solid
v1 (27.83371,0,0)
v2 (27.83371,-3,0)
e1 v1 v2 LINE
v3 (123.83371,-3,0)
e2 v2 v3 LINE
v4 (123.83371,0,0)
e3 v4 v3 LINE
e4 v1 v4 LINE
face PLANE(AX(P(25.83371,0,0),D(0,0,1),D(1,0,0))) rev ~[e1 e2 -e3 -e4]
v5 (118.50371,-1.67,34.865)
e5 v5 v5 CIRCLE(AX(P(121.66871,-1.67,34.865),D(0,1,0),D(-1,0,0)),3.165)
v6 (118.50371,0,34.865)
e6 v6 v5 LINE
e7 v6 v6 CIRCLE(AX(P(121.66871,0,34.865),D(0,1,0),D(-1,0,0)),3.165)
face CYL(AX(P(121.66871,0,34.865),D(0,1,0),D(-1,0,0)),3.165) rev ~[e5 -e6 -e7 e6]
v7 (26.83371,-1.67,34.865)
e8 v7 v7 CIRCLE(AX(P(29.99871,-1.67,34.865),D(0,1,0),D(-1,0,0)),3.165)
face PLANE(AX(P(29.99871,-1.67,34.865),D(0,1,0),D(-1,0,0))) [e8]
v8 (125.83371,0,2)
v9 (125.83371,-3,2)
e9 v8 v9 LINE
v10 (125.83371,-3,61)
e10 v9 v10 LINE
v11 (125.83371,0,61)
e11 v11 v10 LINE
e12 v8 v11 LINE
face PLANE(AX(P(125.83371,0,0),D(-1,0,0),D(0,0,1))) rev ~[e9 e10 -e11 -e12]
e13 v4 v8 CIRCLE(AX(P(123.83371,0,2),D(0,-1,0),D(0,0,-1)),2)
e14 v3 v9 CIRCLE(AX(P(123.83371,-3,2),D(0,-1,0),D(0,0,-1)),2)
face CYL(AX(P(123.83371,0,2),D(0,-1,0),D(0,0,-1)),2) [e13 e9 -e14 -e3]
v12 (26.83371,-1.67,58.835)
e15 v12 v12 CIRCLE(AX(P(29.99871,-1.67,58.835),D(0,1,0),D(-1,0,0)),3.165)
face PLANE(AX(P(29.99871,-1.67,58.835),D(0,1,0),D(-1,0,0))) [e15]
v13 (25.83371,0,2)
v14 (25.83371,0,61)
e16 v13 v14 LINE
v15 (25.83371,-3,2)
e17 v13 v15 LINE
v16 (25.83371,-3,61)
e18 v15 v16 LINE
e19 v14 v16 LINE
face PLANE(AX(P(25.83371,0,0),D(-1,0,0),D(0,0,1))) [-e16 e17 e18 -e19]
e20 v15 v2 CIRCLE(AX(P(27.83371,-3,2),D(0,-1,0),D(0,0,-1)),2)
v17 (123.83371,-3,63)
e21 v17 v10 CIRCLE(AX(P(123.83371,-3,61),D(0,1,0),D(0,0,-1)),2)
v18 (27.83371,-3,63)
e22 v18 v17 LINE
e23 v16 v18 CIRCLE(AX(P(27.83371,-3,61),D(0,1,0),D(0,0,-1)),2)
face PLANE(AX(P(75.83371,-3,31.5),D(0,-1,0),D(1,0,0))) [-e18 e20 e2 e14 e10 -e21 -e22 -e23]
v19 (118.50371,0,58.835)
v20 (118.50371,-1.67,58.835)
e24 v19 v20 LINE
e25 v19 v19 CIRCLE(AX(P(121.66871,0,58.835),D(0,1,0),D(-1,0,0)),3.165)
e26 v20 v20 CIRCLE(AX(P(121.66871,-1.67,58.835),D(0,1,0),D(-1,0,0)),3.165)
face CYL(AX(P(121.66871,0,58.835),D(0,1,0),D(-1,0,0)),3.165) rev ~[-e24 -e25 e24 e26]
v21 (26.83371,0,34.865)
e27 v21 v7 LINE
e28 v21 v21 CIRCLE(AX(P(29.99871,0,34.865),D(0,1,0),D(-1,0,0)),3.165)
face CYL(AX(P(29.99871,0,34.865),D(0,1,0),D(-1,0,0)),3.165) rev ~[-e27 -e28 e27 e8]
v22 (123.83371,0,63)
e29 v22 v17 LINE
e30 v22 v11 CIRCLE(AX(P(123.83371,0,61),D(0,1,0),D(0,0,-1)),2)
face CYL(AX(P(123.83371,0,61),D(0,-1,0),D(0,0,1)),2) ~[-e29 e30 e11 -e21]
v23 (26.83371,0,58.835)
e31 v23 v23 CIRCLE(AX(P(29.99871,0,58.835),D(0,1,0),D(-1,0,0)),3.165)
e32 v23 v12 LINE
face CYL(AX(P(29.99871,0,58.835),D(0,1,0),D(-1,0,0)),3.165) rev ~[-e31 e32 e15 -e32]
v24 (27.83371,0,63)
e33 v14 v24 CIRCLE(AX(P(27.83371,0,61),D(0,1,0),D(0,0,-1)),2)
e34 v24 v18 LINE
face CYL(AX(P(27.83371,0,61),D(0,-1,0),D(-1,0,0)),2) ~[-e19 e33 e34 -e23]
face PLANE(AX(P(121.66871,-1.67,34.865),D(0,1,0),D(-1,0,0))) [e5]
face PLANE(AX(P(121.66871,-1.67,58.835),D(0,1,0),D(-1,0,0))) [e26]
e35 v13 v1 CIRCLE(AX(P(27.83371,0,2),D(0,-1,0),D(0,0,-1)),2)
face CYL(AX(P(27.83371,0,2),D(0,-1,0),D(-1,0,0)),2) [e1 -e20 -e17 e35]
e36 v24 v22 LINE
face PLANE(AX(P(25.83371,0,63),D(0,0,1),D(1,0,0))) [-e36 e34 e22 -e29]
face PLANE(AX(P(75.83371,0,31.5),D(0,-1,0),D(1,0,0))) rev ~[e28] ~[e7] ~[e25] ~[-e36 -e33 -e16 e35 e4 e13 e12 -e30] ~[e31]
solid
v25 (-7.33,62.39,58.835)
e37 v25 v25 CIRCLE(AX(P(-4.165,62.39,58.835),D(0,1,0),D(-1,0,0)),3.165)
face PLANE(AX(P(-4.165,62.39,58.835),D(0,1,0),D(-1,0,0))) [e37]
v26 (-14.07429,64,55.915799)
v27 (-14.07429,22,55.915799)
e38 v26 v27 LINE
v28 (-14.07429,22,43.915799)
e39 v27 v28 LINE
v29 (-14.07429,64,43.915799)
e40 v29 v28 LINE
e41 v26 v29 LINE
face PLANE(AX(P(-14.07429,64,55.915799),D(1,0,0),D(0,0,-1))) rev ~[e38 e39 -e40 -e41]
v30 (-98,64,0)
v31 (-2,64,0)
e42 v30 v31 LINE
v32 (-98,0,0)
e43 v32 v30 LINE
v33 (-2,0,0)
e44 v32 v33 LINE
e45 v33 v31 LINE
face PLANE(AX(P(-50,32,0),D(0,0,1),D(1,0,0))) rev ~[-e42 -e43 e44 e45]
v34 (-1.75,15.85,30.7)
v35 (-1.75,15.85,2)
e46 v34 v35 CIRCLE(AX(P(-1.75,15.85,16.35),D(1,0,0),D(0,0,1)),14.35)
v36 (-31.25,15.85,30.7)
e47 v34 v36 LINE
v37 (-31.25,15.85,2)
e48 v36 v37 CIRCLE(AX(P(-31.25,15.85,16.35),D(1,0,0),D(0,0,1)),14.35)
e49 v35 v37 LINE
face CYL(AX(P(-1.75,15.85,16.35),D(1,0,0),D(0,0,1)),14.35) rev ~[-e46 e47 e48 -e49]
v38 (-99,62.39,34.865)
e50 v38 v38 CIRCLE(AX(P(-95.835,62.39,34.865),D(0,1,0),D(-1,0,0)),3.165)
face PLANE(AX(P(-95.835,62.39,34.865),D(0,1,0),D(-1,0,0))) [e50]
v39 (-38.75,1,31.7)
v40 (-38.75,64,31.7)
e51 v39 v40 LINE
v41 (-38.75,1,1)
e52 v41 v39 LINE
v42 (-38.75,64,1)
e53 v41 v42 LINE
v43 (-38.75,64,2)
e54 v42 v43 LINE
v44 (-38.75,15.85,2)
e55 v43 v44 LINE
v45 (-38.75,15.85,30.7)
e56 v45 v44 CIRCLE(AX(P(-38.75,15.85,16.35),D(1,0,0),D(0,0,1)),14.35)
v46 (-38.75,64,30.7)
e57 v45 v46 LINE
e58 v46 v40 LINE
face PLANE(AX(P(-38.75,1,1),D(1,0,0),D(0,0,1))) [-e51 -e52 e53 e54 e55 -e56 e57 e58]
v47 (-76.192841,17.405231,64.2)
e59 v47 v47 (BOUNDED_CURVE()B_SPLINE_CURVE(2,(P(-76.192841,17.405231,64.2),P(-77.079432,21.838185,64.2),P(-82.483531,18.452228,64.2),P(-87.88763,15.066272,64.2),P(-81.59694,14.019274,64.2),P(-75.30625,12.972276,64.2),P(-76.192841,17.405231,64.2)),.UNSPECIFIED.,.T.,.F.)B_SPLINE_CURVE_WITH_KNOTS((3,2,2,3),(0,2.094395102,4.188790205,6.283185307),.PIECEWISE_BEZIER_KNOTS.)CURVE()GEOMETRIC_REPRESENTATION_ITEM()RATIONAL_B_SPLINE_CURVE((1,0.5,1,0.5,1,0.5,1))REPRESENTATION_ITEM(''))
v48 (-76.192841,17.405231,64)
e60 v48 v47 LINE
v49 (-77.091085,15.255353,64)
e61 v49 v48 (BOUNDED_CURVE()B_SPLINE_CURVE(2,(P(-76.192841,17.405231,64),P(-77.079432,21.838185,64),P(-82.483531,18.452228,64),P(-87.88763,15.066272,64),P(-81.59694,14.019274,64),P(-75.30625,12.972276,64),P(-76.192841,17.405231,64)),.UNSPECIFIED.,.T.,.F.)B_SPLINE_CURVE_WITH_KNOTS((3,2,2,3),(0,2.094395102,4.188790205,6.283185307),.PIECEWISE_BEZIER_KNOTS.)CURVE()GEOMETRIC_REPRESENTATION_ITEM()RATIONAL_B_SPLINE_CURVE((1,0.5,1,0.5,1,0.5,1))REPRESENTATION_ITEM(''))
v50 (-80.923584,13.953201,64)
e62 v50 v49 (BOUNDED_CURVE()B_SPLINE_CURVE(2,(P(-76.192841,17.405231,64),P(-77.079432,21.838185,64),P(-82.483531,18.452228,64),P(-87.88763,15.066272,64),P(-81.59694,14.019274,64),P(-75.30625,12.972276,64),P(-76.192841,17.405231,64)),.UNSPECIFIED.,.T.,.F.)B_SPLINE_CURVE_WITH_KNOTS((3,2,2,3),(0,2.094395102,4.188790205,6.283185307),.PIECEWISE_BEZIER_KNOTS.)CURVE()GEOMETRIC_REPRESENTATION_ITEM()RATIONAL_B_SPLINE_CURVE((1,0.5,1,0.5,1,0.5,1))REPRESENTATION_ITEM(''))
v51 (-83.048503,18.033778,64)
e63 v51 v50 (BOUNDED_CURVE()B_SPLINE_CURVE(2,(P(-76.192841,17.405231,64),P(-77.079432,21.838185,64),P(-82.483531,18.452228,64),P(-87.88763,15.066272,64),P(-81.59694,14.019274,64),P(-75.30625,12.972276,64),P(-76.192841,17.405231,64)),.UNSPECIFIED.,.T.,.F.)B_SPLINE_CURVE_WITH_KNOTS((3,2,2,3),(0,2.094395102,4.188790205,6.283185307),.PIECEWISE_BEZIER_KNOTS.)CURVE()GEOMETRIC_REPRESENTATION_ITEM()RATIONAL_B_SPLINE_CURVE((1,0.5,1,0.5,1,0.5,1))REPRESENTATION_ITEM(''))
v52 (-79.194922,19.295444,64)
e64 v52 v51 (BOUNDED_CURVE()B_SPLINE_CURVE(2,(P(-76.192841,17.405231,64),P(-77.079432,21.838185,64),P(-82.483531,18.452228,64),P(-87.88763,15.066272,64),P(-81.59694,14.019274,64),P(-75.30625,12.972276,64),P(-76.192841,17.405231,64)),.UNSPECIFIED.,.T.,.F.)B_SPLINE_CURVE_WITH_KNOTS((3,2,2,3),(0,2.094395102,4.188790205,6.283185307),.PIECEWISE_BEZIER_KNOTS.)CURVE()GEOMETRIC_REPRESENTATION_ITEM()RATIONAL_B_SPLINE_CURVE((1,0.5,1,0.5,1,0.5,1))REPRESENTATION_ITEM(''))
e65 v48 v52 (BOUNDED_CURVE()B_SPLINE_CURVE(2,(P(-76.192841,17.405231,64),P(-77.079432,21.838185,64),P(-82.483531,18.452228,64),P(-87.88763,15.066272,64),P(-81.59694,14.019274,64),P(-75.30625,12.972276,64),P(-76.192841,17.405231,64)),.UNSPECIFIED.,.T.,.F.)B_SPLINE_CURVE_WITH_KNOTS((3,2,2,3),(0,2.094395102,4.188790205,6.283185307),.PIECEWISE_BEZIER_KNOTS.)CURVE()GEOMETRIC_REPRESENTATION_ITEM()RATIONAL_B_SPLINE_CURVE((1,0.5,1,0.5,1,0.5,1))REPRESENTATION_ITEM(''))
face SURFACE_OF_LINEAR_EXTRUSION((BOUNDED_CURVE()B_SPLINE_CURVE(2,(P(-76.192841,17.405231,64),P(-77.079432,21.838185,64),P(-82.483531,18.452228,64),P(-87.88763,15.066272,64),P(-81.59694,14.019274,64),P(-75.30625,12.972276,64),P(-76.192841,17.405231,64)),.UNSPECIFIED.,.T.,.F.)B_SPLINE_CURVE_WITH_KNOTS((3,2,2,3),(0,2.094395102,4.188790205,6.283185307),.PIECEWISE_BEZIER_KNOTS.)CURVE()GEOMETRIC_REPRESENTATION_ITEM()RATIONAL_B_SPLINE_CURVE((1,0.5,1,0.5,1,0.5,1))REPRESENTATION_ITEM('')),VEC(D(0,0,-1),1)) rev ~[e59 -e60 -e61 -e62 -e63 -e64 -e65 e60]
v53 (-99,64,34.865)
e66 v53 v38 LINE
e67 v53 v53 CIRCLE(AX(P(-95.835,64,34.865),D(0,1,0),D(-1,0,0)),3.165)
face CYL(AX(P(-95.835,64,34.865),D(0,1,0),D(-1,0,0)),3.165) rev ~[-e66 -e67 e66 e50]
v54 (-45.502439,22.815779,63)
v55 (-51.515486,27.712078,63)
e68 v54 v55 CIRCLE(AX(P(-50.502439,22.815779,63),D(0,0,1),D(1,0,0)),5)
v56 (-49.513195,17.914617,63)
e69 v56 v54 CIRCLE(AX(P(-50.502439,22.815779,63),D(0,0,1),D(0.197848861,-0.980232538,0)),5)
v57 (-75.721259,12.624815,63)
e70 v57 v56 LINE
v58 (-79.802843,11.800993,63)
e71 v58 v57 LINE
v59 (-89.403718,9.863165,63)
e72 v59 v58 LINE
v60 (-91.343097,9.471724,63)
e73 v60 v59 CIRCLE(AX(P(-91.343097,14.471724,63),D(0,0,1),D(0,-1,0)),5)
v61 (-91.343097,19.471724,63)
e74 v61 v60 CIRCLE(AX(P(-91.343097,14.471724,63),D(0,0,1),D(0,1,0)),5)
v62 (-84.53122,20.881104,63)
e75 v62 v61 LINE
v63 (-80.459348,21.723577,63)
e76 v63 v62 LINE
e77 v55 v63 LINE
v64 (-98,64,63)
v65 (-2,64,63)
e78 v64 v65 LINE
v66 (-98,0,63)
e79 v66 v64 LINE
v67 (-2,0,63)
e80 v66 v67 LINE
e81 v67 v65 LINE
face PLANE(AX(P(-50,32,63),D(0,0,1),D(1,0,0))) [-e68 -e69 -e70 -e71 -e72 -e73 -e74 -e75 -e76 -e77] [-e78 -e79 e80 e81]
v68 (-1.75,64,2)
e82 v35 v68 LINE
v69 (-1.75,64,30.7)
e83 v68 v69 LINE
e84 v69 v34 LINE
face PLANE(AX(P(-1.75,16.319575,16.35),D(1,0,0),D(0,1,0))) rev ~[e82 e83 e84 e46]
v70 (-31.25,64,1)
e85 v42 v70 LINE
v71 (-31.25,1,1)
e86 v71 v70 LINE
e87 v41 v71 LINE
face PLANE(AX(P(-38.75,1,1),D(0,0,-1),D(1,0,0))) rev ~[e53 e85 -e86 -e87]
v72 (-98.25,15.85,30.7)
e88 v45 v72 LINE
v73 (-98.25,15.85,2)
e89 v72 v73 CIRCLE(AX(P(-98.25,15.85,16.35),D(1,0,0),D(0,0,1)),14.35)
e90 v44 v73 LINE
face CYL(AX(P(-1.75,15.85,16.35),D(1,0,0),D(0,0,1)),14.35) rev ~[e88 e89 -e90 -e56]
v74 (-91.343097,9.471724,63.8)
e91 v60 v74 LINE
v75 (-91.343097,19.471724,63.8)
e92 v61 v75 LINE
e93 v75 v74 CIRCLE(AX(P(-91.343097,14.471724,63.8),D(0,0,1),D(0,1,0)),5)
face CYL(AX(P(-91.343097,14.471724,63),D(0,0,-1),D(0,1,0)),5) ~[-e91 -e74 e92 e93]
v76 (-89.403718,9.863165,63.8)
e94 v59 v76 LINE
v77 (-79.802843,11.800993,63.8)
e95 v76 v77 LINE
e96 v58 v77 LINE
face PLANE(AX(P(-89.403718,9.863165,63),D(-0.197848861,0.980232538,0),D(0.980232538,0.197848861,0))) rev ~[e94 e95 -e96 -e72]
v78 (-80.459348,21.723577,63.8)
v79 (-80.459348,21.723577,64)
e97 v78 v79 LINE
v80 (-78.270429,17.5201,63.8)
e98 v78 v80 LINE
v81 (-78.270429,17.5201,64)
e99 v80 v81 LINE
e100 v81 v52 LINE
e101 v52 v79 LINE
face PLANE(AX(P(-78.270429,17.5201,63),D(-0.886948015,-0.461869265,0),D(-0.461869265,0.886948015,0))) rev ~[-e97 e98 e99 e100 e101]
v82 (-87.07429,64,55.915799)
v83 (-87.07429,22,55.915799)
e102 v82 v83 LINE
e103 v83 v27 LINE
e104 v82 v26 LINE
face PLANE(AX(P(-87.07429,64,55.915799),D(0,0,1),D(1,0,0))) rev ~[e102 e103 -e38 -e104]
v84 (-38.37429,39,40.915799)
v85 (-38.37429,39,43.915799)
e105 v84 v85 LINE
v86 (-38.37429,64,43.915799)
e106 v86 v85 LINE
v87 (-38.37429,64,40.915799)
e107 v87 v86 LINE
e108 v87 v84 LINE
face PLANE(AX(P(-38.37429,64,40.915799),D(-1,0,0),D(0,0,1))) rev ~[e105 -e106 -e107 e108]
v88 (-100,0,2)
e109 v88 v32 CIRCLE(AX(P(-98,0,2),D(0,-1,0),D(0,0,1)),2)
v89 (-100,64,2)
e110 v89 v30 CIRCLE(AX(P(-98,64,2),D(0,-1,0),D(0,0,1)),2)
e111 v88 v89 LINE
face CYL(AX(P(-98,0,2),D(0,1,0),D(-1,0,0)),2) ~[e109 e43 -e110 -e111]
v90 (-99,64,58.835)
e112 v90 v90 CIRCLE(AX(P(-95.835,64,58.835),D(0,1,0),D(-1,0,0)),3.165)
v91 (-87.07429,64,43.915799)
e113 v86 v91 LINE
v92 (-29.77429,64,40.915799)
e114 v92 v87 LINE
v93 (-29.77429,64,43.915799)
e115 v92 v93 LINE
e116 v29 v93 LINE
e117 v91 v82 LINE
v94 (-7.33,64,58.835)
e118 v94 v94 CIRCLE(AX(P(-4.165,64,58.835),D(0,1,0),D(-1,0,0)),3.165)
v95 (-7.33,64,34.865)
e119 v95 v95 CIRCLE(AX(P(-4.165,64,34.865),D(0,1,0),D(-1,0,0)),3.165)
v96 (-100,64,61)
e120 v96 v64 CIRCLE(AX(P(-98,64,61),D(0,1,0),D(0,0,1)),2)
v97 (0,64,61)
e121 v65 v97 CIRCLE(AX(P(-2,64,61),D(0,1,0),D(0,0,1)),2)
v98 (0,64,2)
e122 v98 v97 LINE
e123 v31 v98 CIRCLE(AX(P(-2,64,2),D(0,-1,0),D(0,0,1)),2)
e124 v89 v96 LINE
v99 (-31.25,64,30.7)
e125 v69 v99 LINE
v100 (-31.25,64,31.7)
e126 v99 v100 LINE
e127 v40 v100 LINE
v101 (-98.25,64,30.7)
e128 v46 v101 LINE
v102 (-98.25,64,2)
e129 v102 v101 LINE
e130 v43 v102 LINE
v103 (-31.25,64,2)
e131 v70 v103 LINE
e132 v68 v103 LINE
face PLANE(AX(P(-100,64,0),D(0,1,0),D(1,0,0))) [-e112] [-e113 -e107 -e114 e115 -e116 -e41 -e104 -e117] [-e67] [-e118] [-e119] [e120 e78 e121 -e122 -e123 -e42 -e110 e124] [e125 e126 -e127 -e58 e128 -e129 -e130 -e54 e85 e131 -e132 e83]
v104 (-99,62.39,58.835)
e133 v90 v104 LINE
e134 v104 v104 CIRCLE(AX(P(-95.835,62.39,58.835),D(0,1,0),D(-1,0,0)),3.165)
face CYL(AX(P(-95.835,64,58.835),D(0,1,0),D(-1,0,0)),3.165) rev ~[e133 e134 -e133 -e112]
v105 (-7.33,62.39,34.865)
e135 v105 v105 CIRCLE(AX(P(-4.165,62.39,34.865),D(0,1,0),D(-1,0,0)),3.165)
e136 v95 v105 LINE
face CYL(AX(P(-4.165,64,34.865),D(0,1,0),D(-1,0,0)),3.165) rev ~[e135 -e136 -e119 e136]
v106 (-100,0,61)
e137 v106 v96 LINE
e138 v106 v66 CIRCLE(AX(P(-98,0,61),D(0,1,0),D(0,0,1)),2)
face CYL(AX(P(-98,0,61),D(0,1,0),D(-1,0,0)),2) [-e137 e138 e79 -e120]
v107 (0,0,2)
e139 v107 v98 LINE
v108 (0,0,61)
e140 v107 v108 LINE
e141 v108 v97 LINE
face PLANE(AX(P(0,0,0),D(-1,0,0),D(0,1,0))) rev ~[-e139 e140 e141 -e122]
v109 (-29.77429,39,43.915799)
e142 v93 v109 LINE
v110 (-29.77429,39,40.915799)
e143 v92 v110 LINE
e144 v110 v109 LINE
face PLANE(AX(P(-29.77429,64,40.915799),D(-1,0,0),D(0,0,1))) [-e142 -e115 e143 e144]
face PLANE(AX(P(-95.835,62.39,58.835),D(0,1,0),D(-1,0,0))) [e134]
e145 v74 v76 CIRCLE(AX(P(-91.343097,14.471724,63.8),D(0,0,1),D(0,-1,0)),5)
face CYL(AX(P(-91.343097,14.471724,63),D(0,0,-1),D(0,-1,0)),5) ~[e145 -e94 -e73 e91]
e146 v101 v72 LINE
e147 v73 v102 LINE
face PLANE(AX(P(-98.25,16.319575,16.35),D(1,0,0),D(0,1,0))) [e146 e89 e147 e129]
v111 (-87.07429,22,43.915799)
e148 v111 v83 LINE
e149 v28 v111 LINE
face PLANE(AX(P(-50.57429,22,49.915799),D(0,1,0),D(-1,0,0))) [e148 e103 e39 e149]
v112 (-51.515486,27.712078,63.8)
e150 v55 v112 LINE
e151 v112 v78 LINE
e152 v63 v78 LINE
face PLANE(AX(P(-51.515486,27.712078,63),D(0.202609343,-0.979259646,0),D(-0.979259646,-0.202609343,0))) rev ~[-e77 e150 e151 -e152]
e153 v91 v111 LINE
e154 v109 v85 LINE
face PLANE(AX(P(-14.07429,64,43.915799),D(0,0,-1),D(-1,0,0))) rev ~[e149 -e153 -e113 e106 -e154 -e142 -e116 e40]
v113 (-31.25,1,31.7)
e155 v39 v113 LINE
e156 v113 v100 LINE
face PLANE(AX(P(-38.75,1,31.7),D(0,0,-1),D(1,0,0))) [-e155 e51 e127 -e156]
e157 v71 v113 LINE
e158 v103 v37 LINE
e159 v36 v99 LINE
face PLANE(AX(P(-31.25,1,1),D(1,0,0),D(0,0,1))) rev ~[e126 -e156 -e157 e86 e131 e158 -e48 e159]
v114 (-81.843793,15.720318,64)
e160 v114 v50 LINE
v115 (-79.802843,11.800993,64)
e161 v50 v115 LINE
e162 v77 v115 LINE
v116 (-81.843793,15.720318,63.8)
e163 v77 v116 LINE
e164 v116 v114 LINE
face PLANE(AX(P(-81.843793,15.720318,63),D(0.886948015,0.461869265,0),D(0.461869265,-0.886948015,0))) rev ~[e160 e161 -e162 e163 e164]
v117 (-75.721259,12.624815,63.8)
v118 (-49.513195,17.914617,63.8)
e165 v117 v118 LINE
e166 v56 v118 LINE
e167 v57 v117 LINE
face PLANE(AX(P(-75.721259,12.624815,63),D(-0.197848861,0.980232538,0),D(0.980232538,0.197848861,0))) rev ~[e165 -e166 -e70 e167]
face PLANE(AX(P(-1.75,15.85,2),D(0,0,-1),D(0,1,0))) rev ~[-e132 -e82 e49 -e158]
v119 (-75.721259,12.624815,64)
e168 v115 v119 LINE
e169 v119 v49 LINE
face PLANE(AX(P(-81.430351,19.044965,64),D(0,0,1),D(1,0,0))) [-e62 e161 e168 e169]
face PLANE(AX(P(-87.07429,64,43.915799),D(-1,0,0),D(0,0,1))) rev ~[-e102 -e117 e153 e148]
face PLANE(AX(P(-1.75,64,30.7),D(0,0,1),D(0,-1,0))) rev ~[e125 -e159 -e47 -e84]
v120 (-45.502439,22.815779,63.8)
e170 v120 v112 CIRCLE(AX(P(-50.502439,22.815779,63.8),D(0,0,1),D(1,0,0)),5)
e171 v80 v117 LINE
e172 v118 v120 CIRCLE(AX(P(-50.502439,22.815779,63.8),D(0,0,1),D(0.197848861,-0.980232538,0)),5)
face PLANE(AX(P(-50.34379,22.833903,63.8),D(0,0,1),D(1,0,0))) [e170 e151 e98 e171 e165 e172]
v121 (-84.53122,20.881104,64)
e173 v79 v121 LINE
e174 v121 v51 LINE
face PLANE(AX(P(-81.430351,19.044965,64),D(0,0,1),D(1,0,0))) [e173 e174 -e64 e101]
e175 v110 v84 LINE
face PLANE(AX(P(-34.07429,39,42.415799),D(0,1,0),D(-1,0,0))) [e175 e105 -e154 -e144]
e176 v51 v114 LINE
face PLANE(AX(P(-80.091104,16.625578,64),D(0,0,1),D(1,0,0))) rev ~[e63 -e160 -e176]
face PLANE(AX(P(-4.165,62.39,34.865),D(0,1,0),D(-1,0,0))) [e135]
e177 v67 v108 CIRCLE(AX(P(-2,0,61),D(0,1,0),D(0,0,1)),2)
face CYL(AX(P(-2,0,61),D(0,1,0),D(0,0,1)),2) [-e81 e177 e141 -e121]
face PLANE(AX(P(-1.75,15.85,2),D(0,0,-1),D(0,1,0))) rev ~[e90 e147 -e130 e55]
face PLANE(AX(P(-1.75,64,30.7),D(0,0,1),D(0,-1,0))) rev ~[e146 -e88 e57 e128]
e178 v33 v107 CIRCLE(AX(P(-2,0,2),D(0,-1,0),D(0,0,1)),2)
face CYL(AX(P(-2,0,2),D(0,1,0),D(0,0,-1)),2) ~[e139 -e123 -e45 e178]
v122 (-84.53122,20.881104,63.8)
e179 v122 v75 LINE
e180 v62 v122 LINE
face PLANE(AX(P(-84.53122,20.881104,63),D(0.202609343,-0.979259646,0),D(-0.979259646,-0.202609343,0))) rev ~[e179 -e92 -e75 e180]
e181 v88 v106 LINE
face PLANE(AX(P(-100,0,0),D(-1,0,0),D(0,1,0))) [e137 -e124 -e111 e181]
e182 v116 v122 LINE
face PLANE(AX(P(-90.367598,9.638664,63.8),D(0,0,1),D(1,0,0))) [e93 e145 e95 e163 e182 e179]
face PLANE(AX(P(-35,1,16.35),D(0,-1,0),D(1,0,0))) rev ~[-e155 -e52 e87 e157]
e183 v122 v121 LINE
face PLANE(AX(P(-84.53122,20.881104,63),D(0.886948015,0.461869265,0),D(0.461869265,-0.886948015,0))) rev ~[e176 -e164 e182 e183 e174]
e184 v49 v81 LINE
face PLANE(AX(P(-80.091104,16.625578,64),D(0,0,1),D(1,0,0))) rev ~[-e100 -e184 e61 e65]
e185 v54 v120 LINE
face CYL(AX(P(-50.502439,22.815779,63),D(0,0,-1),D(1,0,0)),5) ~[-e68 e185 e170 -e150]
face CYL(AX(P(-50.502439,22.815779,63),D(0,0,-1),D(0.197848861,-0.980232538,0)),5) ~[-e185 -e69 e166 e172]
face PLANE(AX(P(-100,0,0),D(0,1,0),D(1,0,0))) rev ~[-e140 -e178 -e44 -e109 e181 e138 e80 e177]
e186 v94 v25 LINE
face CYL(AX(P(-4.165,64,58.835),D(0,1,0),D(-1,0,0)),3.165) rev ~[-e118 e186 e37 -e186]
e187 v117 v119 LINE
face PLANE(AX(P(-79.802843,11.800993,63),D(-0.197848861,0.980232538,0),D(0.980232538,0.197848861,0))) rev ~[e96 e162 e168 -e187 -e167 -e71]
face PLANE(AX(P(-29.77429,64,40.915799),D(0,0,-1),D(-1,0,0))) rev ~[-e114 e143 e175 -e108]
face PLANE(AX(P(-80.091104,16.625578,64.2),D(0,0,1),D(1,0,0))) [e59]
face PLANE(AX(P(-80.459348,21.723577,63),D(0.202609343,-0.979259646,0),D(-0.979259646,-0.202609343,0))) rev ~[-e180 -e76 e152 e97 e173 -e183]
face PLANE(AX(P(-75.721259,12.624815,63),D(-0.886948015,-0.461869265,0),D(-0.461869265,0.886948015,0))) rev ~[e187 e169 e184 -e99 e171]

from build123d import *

# Parameters (mm, degrees)
F0_W      = 100
F0_H      = 64
F1_DEPTH  = 63
F3_START  = -1.75
F3_DEPTH  = 96.5
F5_START  = -1
F4_W      = 7.5
F4_H      = 30.7
F5_DEPTH  = 63
F7_DEPTH  = 42
F6_W      = 8.6
F6_H      = 3
F8_DEPTH  = 25
F9_W      = 100
F9_H      = 63
F10_DEPTH = 3
F11_R     = 3.165
F12_DEPTH = 1.61
F13_R     = 3.165
F14_DEPTH = 1.67
F15_R     = 2
F15_2_R   = 2
F17_DEPTH = 0.8
F18_DEPTH = 1
F20_DEPTH = 0.2


with BuildPart() as f1:
    # F0 (on Top) → F1 (new body)
    with BuildSketch(Plane.XY):
        with Locations((-50, 32)):
            Rectangle(F0_W, F0_H)
    extrude(amount=F1_DEPTH)

    # F2 (on face) → F3 (cut)
    with BuildSketch(Plane.YZ.offset(F3_START)):
        with BuildLine():
            ThreePointArc((15.85, 2), (25.99698231, 6.20301769), (30.2, 16.35))
            ThreePointArc((30.2, 16.35), (25.99698231, 26.49698231), (15.85, 30.7))
            ThreePointArc((15.85, 30.7), (1.5, 16.35), (15.85, 2))
        make_face()
        with BuildLine():
            ThreePointArc((15.85, 30.7), (25.99698231, 26.49698231), (30.2, 16.35))
            ThreePointArc((30.2, 16.35), (25.99698231, 6.20301769), (15.85, 2))
            Line((15.85, 2), (47.85, 2))
            ThreePointArc((47.85, 2), (33.5, 16.35), (47.85, 30.7))
            Line((47.85, 30.7), (15.85, 30.7))
        make_face()
        with BuildLine():
            Line((64, 30.7), (47.85, 30.7))
            ThreePointArc((47.85, 30.7), (57.99698231, 26.49698231), (62.2, 16.35))
            ThreePointArc((62.2, 16.35), (57.99698231, 6.20301769), (47.85, 2))
            Line((47.85, 2), (64, 2))
            Line((64, 2), (64, 30.7))
        make_face()
        with BuildLine():
            ThreePointArc((62.2, 16.35), (57.99698231, 26.49698231), (47.85, 30.7))
            ThreePointArc((47.85, 30.7), (33.5, 16.35), (47.85, 2))
            ThreePointArc((47.85, 2), (57.99698231, 6.20301769), (62.2, 16.35))
        make_face()
    extrude(amount=-F3_DEPTH, mode=Mode.SUBTRACT)

    # F4 (on face) → F5 (cut)
    with BuildSketch(Plane.XZ.offset(F5_START)):
        with Locations((-35, 16.35)):
            Rectangle(F4_W, F4_H)
    extrude(amount=-F5_DEPTH, mode=Mode.SUBTRACT)

    # F6 (on face) → F7 (cut)
    with BuildSketch(Plane(origin=(0, 64, 0), x_dir=(-1, 0, 0), z_dir=(0, 1, 0))):
        Polygon((87.0742898487, 55.9157994471), (14.0742898487, 55.9157994471), (14.0742898487, 43.9157994471), (29.7742898487, 43.9157994471), (38.3742898487, 43.9157994471), (87.0742898487, 43.9157994471), align=None)
    extrude(amount=-F7_DEPTH, mode=Mode.SUBTRACT)

    # F6 (on face) → F8 (cut)
    with BuildSketch(Plane(origin=(0, 64, 0), x_dir=(-1, 0, 0), z_dir=(0, 1, 0))):
        with Locations((34.0742898487, 42.4157994471)):
            Rectangle(F6_W, F6_H)
    extrude(amount=-F8_DEPTH, mode=Mode.SUBTRACT)

    # F11 (on face) → F12 (cut)
    with BuildSketch(Plane(origin=(0, 64, 0), x_dir=(-1, 0, 0), z_dir=(0, 1, 0))):
        with Locations((95.835, 58.835)):
            Circle(F11_R)
        with Locations((95.835, 34.865)):
            Circle(F11_R)
        with Locations((4.165, 58.835)):
            Circle(F11_R)
        with Locations((4.165, 34.865)):
            Circle(F11_R)
    extrude(amount=-F12_DEPTH, mode=Mode.SUBTRACT)

    # F15
    f15_edges = [f1.edges().sort_by_distance(p)[0] for p in [
        (0, 32, 63),
        (0, 32, 0),
        (-100, 32, 0),
        (-100, 32, 63),
    ]]
    fillet(f15_edges, radius=F15_R)

    # F16 (on face) → F17 (join)
    with BuildSketch(Plane.XY.offset(63)):
        with BuildLine():
            ThreePointArc((-91.3430968703, 9.4717235174), (-90.3538525637, 9.5705608286), (-89.403717956, 9.8631652367))
            Line((-89.403717956, 9.8631652367), (-91.3430968703, 9.4717235174))
        make_face()
        with BuildLine():
            ThreePointArc((-45.5024390477, 22.8157792819), (-47.3453227673, 26.6929711513), (-51.5154857645, 27.7120775112))
            ThreePointArc((-51.5154857645, 27.7120775112), (-55.4011839634, 21.8146308158), (-49.5131947411, 17.9146165932))
            ThreePointArc((-49.5131947411, 17.9146165932), (-46.6329286438, 19.6492529149), (-45.5024390477, 22.8157792819))
        make_face()
        with BuildLine():
            ThreePointArc((-89.403717956, 9.8631652367), (-87.1779501399, 11.705579502), (-86.3430968703, 14.4717235174))
            ThreePointArc((-86.3430968703, 14.4717235174), (-87.8075629644, 18.0072574234), (-91.3430968703, 19.4717235174))
            ThreePointArc((-91.3430968703, 19.4717235174), (-96.3430968703, 14.4717235174), (-91.3430968703, 9.4717235174))
            Line((-91.3430968703, 9.4717235174), (-89.403717956, 9.8631652367))
        make_face()
        with BuildLine():
            ThreePointArc((-91.3430968703, 19.4717235174), (-87.8075629644, 18.0072574234), (-86.3430968703, 14.4717235174))
            ThreePointArc((-86.3430968703, 14.4717235174), (-87.1779501399, 11.705579502), (-89.403717956, 9.8631652367))
            Line((-89.403717956, 9.8631652367), (-79.8028434912, 11.8009932596))
            Line((-79.8028434912, 11.8009932596), (-81.8437926947, 15.720318451))
            Line((-81.8437926947, 15.720318451), (-84.5312201365, 20.8811044491))
            Line((-84.5312201365, 20.8811044491), (-91.3430968703, 19.4717235174))
        make_face()
        with BuildLine():
            Line((-51.5154857645, 27.7120775112), (-80.4593477879, 21.7235770112))
            Line((-80.4593477879, 21.7235770112), (-78.2704292539, 17.520099758))
            Line((-78.2704292539, 17.520099758), (-75.7212589077, 12.6248149867))
            Line((-75.7212589077, 12.6248149867), (-49.5131947411, 17.9146165932))
            ThreePointArc((-49.5131947411, 17.9146165932), (-55.4011839634, 21.8146308158), (-51.5154857645, 27.7120775112))
        make_face()
    extrude(amount=F17_DEPTH)

    # F16 (on face) → F18 (join)
    with BuildSketch(Plane.XY.offset(63)):
        with BuildLine():
            Line((-80.4593477879, 21.7235770112), (-84.5312201365, 20.8811044491))
            Line((-84.5312201365, 20.8811044491), (-81.8437926947, 15.720318451))
            add(Edge.make_bspline(
                [(-78.2704292539, 17.520099758), (-79.4249144457, 19.7371087933), (-81.2115961486, 18.8372181486), (-82.9982778516, 17.9373275039), (-81.8437926947, 15.720318451)],
                knots=[1.5407196056, 1.5407196056, 1.5407196056, 3.1115159226, 3.1115159226, 4.6823122396, 4.6823122396, 4.6823122396], degree=2, weights=[1, 0.7071067846, 1, 0.7071067846, 1]))
            Line((-78.2704292539, 17.520099758), (-80.4593477879, 21.7235770112))
        make_face()
        with BuildLine():
            Line((-81.8437926947, 15.720318451), (-79.8028434912, 11.8009932596))
            Line((-79.8028434912, 11.8009932596), (-75.7212589077, 12.6248149867))
            Line((-75.7212589077, 12.6248149867), (-78.2704292539, 17.520099758))
            add(Edge.make_bspline(
                [(-78.8494184734, 14.431264394), (-77.1501552786, 15.3687880367), (-78.2704292539, 17.520099758)],
                knots=[0, 0, 0, 1.5407196056, 1.5407196056, 1.5407196056], degree=2, weights=[1, 0.7176601517, 1]))
            add(Edge.make_bspline(
                [(-81.8437926947, 15.720318451), (-80.6540515248, 13.4356057124), (-78.8494184734, 14.431264394)],
                knots=[4.6823122396, 4.6823122396, 4.6823122396, 6.2831853072, 6.2831853072, 6.2831853072], degree=2, weights=[1, 0.6963934928, 1]))
        make_face()
        with BuildLine():
            add(Edge.make_bspline(
                [(-78.2704292539, 17.520099758), (-79.4249144457, 19.7371087933), (-81.2115961486, 18.8372181486), (-82.9982778516, 17.9373275039), (-81.8437926947, 15.720318451)],
                knots=[1.5407196056, 1.5407196056, 1.5407196056, 3.1115159226, 3.1115159226, 4.6823122396, 4.6823122396, 4.6823122396], degree=2, weights=[1, 0.7071067846, 1, 0.7071067846, 1]))
            add(Edge.make_bspline(
                [(-81.8437926947, 15.720318451), (-80.6540515248, 13.4356057124), (-78.8494184734, 14.431264394)],
                knots=[4.6823122396, 4.6823122396, 4.6823122396, 6.2831853072, 6.2831853072, 6.2831853072], degree=2, weights=[1, 0.6963934928, 1]))
            add(Edge.make_bspline(
                [(-78.8494184734, 14.431264394), (-77.1501552786, 15.3687880367), (-78.2704292539, 17.520099758)],
                knots=[0, 0, 0, 1.5407196056, 1.5407196056, 1.5407196056], degree=2, weights=[1, 0.7176601517, 1]))
        make_face()
    extrude(amount=F18_DEPTH)

    # F19 (on face) → F20 (join)
    with BuildSketch(Plane.XY.offset(64)):
        with BuildLine():
            add(Edge.make_bspline(
                [(-76.1928409338, 17.405230552), (-77.0794322976, 21.8381852527), (-82.4835310821, 18.4522284502), (-87.8876298666, 15.0662716478), (-81.5969397183, 14.0192737495), (-75.30624957, 12.9722758513), (-76.1928409338, 17.405230552)],
                knots=[0, 0, 0, 2.0943951024, 2.0943951024, 4.1887902048, 4.1887902048, 6.2831853072, 6.2831853072, 6.2831853072], degree=2, weights=[1, 0.5, 1, 0.5, 1, 0.5, 1]))
        make_face()
    extrude(amount=F20_DEPTH)


with BuildPart() as f10:
    # F9 (on Front) → F10 (new body)
    with BuildSketch(Plane.XZ):
        with Locations((75.833710218, 31.5)):
            Rectangle(F9_W, F9_H)
    extrude(amount=F10_DEPTH)

    # F13 (on face) → F14 (cut)
    with BuildSketch(Plane(origin=(0, 0, 0), x_dir=(-1, 0, 0), z_dir=(0, 1, 0))):
        with Locations((-29.998710218, 34.865)):
            Circle(F13_R)
        with Locations((-29.998710218, 58.835)):
            Circle(F13_R)
        with Locations((-121.668710218, 58.835)):
            Circle(F13_R)
        with Locations((-121.668710218, 34.865)):
            Circle(F13_R)
    extrude(amount=-F14_DEPTH, mode=Mode.SUBTRACT)

    # F15#2
    f15_2_edges = [f10.edges().sort_by_distance(p)[0] for p in [
        (125.83371, -1.5, 63),
        (125.83371, -1.5, 0),
        (25.83371, -1.5, 0),
        (25.83371, -1.5, 63),
    ]]
    fillet(f15_2_edges, radius=F15_2_R)


solid = Compound([f1.part, f10.part])
